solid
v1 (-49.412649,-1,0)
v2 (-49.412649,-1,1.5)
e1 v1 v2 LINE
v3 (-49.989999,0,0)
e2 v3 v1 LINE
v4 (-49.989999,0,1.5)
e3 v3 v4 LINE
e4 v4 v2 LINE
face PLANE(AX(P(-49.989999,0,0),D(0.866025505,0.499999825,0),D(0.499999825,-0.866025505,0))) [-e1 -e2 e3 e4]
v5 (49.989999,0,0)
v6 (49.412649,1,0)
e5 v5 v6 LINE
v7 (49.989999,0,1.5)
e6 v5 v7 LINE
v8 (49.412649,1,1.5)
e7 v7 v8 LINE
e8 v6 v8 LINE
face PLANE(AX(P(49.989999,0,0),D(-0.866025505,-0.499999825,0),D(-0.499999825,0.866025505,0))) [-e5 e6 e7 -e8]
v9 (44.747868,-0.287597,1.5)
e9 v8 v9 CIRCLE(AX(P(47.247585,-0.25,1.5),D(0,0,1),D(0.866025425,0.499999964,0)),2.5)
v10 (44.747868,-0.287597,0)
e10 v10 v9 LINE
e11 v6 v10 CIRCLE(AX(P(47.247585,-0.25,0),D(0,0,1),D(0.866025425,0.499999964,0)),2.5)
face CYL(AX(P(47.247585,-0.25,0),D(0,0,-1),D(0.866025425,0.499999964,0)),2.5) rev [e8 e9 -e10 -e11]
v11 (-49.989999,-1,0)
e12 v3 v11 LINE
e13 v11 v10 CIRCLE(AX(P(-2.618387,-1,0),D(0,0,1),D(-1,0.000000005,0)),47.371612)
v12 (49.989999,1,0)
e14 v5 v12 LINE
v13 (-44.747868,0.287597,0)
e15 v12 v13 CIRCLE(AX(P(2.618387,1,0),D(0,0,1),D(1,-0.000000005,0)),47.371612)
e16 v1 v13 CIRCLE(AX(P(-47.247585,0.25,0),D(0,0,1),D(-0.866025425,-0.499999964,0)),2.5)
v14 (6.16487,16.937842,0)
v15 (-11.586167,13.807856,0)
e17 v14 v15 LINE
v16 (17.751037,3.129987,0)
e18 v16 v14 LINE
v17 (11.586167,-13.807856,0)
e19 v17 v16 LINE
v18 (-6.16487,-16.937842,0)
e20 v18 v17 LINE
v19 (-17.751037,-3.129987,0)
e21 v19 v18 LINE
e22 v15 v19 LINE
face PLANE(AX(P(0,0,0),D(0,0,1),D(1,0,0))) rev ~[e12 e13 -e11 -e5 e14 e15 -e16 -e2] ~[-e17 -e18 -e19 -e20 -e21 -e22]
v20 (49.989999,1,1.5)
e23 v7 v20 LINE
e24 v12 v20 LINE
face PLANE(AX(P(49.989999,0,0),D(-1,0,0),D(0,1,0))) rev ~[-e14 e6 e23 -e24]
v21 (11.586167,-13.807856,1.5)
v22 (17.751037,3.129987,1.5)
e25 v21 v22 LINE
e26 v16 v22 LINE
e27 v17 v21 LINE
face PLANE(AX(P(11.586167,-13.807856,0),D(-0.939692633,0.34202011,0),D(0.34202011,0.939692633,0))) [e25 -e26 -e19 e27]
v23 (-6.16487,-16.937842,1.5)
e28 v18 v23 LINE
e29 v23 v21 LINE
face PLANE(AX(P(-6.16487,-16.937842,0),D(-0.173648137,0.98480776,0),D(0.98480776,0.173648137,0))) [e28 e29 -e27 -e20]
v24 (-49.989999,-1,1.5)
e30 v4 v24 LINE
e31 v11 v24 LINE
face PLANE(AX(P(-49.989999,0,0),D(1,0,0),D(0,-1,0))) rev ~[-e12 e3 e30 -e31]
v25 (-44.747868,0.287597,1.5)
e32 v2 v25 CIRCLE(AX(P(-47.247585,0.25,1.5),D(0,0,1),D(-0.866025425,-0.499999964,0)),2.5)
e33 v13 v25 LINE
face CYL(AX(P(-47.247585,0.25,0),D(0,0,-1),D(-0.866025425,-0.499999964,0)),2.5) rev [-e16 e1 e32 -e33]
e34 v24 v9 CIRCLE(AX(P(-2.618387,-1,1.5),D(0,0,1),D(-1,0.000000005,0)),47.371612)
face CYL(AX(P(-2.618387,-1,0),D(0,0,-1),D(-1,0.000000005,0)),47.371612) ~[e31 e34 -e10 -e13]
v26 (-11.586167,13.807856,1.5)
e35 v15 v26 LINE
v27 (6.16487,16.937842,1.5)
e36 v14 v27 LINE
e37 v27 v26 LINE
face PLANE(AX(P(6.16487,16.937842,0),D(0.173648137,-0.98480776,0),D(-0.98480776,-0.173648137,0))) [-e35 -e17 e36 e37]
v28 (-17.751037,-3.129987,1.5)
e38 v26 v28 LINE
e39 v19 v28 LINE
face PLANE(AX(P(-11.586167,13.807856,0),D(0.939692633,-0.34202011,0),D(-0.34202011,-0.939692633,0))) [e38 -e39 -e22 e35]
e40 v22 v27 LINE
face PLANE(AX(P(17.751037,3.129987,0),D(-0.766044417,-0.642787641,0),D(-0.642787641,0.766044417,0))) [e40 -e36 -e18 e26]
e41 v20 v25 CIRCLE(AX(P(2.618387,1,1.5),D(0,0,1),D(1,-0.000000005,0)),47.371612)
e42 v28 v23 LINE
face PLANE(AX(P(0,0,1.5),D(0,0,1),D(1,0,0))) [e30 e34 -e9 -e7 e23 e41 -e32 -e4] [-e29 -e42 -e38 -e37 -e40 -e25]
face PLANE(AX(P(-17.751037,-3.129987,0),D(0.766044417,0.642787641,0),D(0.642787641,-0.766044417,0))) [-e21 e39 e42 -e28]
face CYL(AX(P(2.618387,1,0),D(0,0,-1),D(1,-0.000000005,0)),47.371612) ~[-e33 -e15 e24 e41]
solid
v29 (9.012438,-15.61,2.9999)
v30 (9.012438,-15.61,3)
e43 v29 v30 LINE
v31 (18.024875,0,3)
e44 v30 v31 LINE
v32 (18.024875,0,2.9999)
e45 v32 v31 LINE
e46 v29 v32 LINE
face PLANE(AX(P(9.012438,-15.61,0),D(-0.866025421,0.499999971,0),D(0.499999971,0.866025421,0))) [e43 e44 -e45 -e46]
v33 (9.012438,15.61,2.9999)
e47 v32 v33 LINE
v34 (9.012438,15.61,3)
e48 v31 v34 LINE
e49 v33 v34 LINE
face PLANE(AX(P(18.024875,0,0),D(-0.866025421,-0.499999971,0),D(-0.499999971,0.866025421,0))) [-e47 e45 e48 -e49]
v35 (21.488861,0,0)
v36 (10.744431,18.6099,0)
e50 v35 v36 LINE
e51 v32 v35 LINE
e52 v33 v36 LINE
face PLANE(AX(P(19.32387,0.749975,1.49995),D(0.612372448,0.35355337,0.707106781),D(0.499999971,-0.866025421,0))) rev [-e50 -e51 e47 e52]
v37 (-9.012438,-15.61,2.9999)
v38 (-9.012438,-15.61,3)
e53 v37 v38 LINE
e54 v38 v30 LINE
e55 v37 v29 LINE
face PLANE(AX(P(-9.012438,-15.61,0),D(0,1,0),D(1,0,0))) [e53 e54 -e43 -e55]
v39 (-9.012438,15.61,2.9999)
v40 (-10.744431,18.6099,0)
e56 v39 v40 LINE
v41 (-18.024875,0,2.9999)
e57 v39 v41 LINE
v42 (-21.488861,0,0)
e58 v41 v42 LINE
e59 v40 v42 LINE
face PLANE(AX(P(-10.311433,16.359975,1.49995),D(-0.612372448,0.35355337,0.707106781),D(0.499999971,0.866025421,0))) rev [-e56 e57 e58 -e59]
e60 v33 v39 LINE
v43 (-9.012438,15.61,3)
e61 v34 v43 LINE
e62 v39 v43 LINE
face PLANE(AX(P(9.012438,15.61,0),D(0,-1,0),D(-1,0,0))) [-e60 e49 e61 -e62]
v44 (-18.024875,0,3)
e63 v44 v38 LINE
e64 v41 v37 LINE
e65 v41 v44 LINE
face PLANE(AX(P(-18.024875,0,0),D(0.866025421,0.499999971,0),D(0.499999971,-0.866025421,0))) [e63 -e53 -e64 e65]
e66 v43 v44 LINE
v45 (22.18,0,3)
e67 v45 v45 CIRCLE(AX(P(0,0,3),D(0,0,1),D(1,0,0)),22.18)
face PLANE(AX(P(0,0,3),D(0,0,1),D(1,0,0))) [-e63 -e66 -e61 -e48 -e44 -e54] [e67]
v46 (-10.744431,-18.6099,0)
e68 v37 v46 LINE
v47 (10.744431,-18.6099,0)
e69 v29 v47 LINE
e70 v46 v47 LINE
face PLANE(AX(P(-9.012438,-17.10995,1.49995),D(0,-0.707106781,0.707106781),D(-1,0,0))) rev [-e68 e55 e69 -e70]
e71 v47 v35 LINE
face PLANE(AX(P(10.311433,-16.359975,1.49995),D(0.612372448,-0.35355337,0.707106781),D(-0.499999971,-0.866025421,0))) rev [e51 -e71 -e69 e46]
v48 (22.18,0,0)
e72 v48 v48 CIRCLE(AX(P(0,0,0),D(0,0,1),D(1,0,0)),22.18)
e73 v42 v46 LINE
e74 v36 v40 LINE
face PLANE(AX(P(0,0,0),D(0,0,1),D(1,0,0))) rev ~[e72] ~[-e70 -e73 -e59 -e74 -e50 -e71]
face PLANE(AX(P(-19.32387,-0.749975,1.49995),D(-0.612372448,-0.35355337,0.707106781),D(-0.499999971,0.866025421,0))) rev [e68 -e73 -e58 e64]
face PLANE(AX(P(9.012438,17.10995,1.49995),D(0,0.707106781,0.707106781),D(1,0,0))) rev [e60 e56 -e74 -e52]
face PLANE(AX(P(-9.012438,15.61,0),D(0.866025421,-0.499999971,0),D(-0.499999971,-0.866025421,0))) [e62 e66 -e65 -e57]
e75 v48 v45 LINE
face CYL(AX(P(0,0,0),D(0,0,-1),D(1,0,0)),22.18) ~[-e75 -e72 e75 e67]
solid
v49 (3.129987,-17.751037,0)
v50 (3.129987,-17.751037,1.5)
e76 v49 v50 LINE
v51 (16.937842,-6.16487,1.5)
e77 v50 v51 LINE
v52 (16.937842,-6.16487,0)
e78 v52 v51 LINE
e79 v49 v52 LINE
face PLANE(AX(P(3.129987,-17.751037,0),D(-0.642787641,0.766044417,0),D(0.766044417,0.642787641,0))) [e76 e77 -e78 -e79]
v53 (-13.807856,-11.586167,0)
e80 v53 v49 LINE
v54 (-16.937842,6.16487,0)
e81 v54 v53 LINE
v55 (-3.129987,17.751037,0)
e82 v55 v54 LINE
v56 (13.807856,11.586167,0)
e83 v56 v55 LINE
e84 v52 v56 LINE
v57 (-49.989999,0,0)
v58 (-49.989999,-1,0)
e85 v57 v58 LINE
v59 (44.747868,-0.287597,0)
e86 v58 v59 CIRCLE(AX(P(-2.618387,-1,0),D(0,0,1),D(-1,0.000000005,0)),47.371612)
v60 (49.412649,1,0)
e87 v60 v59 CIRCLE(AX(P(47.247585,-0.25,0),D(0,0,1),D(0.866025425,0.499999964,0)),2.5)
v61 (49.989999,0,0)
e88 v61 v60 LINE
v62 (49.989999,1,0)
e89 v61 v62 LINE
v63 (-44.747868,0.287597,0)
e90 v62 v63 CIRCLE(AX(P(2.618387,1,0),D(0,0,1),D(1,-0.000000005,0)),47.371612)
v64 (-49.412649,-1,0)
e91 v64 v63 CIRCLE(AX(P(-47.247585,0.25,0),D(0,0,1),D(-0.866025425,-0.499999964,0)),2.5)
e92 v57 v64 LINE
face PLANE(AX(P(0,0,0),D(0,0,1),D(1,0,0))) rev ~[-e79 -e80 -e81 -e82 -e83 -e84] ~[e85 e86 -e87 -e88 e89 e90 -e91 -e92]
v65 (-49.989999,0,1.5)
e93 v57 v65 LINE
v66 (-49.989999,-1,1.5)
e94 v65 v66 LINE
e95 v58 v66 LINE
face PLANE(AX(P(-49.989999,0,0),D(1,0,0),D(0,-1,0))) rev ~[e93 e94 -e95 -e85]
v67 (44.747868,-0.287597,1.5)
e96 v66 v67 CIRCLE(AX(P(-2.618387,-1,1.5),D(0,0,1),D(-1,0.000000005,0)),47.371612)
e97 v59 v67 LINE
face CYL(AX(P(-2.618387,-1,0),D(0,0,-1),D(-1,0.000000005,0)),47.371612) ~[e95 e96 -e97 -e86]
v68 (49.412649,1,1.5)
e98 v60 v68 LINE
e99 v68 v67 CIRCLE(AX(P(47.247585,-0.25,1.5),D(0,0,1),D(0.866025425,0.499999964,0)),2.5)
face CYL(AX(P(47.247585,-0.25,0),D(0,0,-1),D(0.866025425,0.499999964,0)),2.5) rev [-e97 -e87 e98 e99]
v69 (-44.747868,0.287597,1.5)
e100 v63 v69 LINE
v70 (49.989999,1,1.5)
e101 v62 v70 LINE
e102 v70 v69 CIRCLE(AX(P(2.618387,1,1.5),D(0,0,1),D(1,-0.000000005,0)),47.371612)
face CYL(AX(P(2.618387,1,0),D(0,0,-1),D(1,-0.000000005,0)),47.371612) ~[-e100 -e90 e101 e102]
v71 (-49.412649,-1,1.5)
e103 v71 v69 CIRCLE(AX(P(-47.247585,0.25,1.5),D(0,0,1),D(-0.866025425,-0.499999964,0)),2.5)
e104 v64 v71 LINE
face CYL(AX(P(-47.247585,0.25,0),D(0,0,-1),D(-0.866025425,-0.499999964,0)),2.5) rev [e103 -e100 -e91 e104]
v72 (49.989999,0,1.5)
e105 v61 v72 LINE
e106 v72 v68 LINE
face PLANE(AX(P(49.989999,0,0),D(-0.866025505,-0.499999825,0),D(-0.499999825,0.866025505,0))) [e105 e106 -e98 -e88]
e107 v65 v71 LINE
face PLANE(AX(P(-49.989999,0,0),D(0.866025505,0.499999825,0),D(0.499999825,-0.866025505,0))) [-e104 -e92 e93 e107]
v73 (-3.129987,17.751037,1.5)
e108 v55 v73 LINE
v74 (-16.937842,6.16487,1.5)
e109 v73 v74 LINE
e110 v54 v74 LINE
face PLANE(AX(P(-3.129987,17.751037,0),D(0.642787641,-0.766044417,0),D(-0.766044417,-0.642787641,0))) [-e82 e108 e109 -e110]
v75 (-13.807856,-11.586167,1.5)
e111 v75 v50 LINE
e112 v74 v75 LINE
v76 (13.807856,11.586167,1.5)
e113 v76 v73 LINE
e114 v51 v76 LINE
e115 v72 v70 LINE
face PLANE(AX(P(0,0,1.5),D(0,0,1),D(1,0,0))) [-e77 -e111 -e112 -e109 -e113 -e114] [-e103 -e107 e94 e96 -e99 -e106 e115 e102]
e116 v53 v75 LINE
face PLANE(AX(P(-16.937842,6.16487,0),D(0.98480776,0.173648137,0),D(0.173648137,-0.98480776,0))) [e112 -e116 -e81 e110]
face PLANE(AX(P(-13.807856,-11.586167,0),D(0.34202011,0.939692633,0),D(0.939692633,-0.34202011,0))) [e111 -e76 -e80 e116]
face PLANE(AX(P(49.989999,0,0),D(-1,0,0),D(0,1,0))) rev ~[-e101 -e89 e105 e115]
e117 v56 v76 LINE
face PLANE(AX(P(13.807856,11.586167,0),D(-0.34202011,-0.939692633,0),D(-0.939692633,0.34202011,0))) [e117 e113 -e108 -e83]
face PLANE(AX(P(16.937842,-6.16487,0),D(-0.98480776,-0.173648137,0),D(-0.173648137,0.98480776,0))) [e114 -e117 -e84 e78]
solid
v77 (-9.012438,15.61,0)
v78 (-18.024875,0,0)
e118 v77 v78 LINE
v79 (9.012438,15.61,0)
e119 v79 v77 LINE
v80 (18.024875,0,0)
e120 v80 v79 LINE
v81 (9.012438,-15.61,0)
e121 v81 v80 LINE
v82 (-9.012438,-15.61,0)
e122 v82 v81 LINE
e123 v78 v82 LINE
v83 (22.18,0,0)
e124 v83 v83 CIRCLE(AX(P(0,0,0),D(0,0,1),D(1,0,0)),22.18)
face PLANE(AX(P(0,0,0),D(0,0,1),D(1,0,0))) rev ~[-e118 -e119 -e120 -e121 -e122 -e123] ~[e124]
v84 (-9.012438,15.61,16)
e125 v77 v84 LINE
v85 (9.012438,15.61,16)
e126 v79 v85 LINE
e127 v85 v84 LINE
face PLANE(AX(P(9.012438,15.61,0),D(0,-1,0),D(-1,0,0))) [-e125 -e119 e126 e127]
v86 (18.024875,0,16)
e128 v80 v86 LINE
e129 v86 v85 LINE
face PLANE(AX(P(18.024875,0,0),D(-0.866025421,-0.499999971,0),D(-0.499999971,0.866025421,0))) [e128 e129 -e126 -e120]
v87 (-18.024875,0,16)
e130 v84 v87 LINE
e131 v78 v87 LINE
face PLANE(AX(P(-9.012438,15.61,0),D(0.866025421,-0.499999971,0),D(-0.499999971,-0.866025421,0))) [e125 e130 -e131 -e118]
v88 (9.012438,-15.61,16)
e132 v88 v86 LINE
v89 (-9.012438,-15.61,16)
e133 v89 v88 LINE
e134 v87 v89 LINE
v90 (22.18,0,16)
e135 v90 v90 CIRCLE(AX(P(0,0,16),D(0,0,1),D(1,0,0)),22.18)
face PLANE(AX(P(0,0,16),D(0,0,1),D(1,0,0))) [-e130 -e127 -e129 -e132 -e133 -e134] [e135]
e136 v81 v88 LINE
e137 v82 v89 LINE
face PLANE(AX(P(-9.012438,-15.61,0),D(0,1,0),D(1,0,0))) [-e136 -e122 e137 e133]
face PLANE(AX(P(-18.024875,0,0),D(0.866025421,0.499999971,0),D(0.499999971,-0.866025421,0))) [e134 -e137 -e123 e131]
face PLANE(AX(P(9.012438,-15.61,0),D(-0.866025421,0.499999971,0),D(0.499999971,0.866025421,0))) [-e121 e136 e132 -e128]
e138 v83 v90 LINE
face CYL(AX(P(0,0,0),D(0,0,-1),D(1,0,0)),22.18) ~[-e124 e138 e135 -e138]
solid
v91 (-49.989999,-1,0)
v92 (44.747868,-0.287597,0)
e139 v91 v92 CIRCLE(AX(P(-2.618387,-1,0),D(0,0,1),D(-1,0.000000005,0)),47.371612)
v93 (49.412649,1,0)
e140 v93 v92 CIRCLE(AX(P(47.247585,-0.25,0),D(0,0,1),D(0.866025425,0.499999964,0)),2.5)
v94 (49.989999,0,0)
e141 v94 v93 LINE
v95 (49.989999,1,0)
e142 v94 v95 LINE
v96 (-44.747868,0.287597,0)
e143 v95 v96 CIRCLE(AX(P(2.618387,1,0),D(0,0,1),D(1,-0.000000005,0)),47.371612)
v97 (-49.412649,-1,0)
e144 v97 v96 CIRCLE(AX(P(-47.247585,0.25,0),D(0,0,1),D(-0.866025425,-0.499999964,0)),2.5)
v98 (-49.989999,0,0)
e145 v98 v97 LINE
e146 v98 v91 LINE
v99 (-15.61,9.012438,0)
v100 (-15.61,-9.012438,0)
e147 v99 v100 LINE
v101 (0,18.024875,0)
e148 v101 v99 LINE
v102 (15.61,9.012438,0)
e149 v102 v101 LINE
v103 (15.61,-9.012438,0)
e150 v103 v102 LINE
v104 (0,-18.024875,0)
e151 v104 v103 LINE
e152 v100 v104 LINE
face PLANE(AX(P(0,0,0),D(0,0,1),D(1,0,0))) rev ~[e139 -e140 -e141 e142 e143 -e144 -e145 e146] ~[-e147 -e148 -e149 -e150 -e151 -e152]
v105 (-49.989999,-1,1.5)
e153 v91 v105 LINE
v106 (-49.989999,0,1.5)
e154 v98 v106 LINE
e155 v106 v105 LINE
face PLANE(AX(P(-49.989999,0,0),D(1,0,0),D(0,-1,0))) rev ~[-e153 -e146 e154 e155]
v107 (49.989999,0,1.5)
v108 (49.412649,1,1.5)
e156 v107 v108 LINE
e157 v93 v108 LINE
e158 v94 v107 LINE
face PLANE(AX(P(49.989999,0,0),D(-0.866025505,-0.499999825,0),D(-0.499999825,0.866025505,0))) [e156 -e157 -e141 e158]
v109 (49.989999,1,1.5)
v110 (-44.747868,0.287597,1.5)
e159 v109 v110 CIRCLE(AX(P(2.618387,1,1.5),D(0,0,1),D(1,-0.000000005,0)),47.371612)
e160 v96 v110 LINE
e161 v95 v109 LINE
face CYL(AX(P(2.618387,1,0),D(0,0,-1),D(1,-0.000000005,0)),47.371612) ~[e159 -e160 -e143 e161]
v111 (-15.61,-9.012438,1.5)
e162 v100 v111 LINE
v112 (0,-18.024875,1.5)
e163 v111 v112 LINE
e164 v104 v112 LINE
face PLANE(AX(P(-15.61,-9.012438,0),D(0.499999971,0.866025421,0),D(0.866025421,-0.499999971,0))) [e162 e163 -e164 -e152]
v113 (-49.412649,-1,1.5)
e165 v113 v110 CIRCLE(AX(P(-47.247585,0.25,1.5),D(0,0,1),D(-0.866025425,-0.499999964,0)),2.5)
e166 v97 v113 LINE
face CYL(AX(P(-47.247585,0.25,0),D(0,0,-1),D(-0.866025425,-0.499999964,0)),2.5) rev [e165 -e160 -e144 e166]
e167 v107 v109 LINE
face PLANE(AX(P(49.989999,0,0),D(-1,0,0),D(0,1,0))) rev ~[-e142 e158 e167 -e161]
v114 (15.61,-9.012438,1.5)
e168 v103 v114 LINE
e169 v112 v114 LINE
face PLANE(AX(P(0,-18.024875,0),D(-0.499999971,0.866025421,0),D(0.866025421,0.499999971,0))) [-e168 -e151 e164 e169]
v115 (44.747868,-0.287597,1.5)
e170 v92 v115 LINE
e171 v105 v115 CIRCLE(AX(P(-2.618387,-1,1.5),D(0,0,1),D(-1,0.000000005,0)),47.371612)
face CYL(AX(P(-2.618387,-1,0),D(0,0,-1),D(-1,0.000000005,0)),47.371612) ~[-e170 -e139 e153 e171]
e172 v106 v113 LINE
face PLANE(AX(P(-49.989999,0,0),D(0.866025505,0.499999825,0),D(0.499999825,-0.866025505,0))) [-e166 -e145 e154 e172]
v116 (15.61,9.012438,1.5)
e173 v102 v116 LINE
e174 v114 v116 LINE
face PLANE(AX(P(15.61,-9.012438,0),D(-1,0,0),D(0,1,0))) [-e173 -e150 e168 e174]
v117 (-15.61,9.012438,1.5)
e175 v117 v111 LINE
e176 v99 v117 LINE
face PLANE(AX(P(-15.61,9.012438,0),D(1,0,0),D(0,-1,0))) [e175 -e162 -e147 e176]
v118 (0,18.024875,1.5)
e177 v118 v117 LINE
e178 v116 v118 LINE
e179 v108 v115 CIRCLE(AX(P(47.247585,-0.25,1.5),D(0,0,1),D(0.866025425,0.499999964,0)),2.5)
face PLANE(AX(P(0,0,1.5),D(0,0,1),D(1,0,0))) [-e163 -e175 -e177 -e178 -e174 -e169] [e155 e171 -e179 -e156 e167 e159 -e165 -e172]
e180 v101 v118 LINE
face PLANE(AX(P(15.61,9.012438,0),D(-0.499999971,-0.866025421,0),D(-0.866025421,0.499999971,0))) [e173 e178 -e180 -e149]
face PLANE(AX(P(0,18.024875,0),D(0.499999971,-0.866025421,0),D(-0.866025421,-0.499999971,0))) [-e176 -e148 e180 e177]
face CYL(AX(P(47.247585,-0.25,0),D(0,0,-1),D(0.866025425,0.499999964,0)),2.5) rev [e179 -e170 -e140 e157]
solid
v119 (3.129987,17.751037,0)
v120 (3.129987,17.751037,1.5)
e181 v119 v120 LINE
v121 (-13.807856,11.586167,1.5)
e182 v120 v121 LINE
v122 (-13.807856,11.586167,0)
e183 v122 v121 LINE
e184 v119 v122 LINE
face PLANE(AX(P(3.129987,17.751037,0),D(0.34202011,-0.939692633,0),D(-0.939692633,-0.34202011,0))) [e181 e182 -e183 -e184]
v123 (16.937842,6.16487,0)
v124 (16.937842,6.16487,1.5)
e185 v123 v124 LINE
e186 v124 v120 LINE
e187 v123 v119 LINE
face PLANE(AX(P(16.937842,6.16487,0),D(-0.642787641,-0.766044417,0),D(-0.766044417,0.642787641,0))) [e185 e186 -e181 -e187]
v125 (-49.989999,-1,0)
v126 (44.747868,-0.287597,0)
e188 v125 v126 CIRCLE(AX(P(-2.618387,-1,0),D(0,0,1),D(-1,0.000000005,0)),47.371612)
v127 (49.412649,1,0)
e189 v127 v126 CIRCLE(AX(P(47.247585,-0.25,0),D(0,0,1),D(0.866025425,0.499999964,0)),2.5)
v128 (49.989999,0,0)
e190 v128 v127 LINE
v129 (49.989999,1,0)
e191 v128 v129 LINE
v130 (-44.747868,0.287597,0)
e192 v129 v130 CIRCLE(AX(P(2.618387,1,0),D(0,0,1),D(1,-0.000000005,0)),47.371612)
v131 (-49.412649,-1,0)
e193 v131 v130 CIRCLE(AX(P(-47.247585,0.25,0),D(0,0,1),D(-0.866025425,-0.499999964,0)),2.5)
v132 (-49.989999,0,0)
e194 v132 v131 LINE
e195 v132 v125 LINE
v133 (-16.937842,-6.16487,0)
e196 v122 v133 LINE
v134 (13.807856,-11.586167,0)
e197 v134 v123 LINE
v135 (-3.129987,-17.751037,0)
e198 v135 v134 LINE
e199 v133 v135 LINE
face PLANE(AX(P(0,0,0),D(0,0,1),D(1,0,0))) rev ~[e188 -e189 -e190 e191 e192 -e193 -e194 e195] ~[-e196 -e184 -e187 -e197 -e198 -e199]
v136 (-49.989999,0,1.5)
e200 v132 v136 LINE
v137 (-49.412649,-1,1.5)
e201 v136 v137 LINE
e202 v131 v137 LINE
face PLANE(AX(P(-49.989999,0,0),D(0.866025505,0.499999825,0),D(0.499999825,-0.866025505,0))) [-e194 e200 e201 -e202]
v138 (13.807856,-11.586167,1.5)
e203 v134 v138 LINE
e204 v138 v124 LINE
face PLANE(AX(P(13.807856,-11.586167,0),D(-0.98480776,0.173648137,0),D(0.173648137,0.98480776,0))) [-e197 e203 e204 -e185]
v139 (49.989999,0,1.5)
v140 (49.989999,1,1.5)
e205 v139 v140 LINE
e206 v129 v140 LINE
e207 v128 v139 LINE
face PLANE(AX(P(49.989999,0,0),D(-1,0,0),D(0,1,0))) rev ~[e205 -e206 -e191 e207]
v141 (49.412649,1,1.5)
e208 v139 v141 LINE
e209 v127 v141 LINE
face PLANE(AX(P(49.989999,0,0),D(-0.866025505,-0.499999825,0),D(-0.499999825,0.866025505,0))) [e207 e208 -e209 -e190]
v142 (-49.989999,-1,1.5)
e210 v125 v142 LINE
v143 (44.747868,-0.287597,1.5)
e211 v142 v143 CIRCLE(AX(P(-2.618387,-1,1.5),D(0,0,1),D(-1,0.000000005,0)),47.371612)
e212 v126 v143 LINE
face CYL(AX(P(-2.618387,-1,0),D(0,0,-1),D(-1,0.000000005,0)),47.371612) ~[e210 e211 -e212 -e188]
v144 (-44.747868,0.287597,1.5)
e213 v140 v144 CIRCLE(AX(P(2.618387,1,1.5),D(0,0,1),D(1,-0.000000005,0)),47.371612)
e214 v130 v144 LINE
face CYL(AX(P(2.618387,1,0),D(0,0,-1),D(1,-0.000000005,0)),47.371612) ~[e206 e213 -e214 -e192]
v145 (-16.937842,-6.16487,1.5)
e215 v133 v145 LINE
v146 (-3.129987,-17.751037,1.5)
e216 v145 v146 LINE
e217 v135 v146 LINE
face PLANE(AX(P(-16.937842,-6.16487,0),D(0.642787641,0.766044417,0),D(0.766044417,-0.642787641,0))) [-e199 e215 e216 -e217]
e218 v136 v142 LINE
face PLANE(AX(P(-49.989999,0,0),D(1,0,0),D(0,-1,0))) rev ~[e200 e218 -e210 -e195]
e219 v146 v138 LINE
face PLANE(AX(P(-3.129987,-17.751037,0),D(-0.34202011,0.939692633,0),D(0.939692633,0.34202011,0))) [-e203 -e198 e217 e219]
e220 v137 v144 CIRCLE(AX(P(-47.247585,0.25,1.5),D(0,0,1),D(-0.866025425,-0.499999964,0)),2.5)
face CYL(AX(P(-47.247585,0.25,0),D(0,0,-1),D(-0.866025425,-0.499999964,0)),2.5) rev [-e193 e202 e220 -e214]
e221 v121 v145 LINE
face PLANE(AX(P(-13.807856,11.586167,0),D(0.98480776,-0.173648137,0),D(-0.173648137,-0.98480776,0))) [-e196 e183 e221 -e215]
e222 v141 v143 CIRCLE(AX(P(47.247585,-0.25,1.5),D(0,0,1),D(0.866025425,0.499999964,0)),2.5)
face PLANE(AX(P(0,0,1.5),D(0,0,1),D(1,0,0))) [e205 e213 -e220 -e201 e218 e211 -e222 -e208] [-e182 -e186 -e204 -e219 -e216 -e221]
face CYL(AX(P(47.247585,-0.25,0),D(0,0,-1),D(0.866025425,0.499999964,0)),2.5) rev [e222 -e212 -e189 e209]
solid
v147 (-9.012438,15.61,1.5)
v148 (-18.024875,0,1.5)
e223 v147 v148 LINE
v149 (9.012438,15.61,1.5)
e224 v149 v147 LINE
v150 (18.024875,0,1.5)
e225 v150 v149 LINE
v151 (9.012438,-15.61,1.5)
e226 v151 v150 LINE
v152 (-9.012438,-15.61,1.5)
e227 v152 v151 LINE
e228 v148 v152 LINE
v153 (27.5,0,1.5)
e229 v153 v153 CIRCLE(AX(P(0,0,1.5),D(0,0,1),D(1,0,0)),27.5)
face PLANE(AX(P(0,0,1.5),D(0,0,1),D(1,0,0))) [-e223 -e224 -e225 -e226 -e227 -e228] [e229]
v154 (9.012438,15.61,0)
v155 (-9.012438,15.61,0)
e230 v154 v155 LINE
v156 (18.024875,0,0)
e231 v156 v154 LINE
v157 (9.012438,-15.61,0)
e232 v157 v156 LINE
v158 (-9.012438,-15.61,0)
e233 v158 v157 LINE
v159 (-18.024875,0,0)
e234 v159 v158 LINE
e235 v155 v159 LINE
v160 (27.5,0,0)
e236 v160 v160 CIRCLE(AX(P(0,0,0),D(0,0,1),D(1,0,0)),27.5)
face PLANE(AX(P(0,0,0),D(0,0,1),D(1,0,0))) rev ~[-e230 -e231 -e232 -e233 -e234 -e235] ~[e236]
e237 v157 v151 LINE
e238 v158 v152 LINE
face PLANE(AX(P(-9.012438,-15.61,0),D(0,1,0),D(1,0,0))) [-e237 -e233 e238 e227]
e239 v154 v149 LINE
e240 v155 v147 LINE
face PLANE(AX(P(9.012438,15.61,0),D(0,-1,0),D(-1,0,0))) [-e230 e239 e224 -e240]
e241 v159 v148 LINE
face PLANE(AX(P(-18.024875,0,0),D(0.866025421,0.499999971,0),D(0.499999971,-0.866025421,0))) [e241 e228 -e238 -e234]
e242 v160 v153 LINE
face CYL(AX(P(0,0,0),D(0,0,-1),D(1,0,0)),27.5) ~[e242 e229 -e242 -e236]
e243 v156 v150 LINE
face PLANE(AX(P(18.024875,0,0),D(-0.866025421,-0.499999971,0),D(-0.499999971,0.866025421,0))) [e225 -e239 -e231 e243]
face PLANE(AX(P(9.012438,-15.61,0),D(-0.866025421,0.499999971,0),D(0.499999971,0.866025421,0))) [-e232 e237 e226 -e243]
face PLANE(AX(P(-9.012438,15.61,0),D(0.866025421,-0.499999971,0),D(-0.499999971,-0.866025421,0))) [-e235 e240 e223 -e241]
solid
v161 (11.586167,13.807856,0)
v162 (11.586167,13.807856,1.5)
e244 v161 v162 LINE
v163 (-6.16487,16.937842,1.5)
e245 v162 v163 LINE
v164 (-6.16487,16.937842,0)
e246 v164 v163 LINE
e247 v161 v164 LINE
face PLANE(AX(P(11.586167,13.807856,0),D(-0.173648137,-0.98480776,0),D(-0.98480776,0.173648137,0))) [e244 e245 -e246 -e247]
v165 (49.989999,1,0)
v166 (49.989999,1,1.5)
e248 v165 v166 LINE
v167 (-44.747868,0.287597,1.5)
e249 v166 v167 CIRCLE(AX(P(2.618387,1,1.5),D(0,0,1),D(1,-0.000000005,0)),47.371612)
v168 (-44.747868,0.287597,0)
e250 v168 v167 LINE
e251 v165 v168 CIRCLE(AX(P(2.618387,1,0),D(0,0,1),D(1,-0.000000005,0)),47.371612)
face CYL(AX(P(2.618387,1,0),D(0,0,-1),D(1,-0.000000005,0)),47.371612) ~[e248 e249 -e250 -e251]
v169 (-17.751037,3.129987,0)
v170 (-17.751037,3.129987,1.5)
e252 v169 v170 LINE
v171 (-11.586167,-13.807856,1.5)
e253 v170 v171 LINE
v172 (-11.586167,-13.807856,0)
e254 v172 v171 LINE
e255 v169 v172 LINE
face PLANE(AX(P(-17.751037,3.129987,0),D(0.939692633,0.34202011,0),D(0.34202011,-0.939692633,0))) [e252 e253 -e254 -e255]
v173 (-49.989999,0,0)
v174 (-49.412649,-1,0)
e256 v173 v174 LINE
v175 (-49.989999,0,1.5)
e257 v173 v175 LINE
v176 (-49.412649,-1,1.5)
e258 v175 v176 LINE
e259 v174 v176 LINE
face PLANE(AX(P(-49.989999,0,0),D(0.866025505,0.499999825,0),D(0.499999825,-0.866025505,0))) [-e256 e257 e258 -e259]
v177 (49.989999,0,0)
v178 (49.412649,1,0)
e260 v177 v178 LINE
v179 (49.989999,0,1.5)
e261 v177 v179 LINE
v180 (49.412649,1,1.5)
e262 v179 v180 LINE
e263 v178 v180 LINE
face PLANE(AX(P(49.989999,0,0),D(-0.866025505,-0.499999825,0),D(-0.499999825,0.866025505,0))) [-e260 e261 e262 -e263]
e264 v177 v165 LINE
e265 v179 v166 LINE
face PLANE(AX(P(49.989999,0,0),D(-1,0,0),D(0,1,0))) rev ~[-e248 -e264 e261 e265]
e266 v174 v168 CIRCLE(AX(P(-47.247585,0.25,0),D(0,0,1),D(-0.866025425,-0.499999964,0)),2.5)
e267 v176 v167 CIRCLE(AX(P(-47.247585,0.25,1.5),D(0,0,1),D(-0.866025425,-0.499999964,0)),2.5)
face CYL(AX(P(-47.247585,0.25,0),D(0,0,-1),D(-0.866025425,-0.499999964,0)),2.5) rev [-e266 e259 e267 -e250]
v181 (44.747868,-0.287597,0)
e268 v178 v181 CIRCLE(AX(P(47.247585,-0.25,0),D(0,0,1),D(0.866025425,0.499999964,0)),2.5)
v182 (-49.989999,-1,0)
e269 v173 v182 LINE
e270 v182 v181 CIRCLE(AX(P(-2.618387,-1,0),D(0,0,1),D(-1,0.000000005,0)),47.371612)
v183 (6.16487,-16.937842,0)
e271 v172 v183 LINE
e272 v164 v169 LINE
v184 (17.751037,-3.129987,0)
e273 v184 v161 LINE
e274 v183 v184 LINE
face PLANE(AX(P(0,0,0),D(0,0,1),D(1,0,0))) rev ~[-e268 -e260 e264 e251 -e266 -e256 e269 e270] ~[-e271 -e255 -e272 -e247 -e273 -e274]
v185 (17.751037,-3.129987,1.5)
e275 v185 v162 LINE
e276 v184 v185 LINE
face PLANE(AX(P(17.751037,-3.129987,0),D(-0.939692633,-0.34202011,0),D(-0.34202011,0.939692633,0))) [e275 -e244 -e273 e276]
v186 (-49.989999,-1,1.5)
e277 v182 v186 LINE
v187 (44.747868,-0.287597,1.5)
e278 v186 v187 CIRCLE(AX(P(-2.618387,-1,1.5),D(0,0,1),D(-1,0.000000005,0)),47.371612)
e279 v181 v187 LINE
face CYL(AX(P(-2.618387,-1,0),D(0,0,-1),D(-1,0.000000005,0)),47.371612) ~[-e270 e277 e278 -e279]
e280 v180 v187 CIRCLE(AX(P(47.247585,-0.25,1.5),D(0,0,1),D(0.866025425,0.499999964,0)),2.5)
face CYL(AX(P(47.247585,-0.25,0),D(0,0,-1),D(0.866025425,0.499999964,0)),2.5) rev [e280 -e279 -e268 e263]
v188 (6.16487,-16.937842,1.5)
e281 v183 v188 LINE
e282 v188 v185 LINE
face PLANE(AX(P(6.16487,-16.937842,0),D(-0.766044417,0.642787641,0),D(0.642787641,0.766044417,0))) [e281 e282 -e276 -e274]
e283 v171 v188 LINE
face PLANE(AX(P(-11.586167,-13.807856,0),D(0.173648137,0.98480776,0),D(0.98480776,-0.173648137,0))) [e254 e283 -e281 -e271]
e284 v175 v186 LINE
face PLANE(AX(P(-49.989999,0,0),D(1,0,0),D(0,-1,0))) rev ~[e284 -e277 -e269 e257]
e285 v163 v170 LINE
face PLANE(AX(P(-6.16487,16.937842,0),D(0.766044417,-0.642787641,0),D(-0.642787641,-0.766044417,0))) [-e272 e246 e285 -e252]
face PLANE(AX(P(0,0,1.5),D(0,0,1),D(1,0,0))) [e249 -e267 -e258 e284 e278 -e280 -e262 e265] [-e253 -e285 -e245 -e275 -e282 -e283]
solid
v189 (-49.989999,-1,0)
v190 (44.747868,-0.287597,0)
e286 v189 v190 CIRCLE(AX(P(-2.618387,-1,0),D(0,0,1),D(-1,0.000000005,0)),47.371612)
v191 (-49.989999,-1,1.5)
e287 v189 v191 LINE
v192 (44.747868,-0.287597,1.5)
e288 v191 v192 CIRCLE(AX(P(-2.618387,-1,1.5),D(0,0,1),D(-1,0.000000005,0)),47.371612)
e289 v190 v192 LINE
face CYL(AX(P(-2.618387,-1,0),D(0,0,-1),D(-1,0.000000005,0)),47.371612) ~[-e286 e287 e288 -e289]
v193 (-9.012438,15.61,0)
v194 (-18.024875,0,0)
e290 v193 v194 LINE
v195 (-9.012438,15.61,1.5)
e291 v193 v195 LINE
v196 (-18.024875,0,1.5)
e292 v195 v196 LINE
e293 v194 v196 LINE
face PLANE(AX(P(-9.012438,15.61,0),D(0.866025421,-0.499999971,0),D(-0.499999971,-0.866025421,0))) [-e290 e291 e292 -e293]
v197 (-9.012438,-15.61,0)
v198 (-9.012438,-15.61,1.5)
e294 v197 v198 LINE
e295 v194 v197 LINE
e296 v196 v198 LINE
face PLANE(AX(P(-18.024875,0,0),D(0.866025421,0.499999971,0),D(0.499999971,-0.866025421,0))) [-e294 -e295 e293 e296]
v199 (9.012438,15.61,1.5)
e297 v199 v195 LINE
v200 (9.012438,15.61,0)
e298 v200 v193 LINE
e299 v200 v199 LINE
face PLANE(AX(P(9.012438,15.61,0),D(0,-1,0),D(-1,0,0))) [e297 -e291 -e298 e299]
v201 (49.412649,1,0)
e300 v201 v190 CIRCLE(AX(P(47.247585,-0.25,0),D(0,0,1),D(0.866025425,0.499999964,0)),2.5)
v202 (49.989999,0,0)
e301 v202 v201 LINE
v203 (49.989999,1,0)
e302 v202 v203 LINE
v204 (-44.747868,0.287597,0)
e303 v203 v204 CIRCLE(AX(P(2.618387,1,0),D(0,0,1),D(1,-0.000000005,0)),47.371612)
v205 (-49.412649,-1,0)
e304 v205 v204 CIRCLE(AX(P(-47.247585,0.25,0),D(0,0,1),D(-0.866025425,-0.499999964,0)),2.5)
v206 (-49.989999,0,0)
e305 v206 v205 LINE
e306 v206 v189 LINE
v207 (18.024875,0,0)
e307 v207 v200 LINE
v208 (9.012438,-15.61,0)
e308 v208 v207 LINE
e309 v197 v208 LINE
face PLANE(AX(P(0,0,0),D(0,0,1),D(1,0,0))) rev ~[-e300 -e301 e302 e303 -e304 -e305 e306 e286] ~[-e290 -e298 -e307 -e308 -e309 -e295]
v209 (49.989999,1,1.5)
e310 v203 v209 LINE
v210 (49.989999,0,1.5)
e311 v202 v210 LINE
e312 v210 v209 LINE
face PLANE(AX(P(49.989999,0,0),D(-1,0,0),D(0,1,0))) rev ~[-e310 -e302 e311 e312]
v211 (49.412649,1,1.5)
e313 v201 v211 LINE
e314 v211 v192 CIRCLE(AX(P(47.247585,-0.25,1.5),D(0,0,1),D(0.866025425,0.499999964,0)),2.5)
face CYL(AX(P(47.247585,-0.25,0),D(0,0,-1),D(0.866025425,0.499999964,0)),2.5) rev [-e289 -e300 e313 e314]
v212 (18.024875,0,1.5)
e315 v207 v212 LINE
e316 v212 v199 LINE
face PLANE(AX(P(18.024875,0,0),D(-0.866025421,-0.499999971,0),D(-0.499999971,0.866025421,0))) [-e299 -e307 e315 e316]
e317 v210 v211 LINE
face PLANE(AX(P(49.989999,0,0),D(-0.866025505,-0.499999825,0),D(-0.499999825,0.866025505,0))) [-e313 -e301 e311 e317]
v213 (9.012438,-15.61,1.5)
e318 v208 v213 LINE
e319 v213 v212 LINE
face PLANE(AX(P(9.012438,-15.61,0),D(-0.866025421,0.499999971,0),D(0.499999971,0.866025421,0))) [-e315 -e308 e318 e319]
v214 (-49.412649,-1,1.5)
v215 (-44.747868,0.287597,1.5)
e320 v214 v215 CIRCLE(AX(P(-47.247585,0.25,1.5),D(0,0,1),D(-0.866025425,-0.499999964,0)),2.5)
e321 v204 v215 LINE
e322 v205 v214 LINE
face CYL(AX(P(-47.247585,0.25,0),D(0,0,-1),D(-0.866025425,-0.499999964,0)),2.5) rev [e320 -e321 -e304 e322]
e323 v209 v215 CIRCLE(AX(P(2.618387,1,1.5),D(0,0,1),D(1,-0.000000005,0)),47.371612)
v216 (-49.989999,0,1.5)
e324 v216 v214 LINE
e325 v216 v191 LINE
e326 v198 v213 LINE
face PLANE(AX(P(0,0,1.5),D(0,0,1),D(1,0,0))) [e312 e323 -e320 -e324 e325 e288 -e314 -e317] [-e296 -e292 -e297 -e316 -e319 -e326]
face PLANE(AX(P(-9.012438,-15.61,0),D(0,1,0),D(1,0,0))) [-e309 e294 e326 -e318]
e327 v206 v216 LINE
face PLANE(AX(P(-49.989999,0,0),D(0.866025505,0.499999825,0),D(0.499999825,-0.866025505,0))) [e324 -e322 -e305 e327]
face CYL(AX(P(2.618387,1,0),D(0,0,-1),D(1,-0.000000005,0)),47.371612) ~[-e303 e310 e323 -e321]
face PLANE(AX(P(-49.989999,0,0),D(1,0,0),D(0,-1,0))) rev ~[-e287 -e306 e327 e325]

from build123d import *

# Parameters (mm, degrees)
PAD001_DEPTH = 1.5
SKETCH018_R  = 22.18
PAD007_DEPTH = 3
CHAMFER_SIZE = 2.9999
SKETCH019_R  = 27.5
PAD008_DEPTH = 1.5
PAD009_DEPTH = 1.5
PAD010_DEPTH = 1.5
PAD011_DEPTH = 1.5
PAD012_DEPTH = 1.5
PAD013_DEPTH = 1.5
SKETCH035_R  = 22.18
PAD014_DEPTH = 16


with BuildPart() as cuchilla001:
    # Sketch001 → Pad001 (new body)
    with BuildSketch(Plane.XY):
        with BuildLine():
            Line((49.989999, 0), (49.989999, 1))
            ThreePointArc((49.989999, 1), (2.262175, 48.370273), (-44.747868, 0.287597))
            ThreePointArc((-49.412649, -1), (-46.582398, -2.159881), (-44.747868, 0.287597))
            Line((-49.989999, 0), (-49.412649, -1))
            Line((-49.989999, 0), (-49.989999, -1))
            ThreePointArc((-49.989999, -1), (-2.262175, -48.370273), (44.747868, -0.287597))
            ThreePointArc((49.412649, 1), (46.582398, 2.159881), (44.747868, -0.287597))
            Line((49.989999, 0), (49.412649, 1))
        make_face()
        Polygon((-9.012438, -15.61), (9.012438, -15.61), (18.024875, 0), (9.012438, 15.61), (-9.012438, 15.61), (-18.024875, 0), align=None, mode=Mode.SUBTRACT)
    extrude(amount=PAD001_DEPTH)


with BuildPart() as separadorcuchillainicial:
    # Sketch018 → Pad007 (new body)
    with BuildSketch(Plane.XY):
        Circle(SKETCH018_R)
        Polygon((9.012438, 15.61), (-9.012438, 15.61), (-18.024875, 0), (-9.012438, -15.61), (9.012438, -15.61), (18.024875, 0), align=None, mode=Mode.SUBTRACT)
    extrude(amount=PAD007_DEPTH)

    # Chamfer
    chamfer_edges = [separadorcuchillainicial.edges().sort_by_distance(p)[0] for p in [
        (0, -15.61, 0),
        (13.518657, -7.805, 0),
        (13.518657, 7.805, 0),
        (0, 15.61, 0),
        (-13.518657, 7.805, 0),
        (-13.518657, -7.805, 0),
    ]]
    chamfer(chamfer_edges, length=CHAMFER_SIZE)


with BuildPart() as separadorcuchilla:
    # Sketch019 → Pad008 (new body)
    with BuildSketch(Plane.XY):
        Circle(SKETCH019_R)
        Polygon((9.012438, 15.61), (-9.012438, 15.61), (-18.024875, 0), (-9.012438, -15.61), (9.012438, -15.61), (18.024875, 0), align=None, mode=Mode.SUBTRACT)
    extrude(amount=PAD008_DEPTH)


with BuildPart() as cuchilla002:
    # Sketch021 → Pad009 (new body)
    with BuildSketch(Plane.XY):
        with BuildLine():
            Line((49.989999, 0), (49.989999, 1))
            ThreePointArc((49.989999, 1), (2.262175, 48.370273), (-44.747868, 0.287597))
            ThreePointArc((-49.412649, -1), (-46.582398, -2.159881), (-44.747868, 0.287597))
            Line((-49.989999, 0), (-49.412649, -1))
            Line((-49.989999, 0), (-49.989999, -1))
            ThreePointArc((-49.989999, -1), (-2.262175, -48.370273), (44.747868, -0.287597))
            ThreePointArc((49.412649, 1), (46.582398, 2.159881), (44.747868, -0.287597))
            Line((49.989999, 0), (49.412649, 1))
        make_face()
        Polygon((-6.16487, -16.937842), (11.586167, -13.807856), (17.751037, 3.129987), (6.16487, 16.937842), (-11.586167, 13.807856), (-17.751037, -3.129987), align=None, mode=Mode.SUBTRACT)
    extrude(amount=PAD009_DEPTH)


with BuildPart() as cuchilla003:
    # Sketch024 → Pad010 (new body)
    with BuildSketch(Plane.XY):
        with BuildLine():
            Line((49.989999, 0), (49.989999, 1))
            ThreePointArc((49.989999, 1), (2.262175, 48.370273), (-44.747868, 0.287597))
            ThreePointArc((-49.412649, -1), (-46.582398, -2.159881), (-44.747868, 0.287597))
            Line((-49.989999, 0), (-49.412649, -1))
            Line((-49.989999, 0), (-49.989999, -1))
            ThreePointArc((-49.989999, -1), (-2.262175, -48.370273), (44.747868, -0.287597))
            ThreePointArc((49.412649, 1), (46.582398, 2.159881), (44.747868, -0.287597))
            Line((49.989999, 0), (49.412649, 1))
        make_face()
        Polygon((-3.129987, -17.751037), (13.807856, -11.586167), (16.937842, 6.16487), (3.129987, 17.751037), (-13.807856, 11.586167), (-16.937842, -6.16487), align=None, mode=Mode.SUBTRACT)
    extrude(amount=PAD010_DEPTH)


with BuildPart() as cuchilla004:
    # Sketch027 → Pad011 (new body)
    with BuildSketch(Plane.XY):
        with BuildLine():
            Line((49.989999, 0), (49.989999, 1))
            ThreePointArc((49.989999, 1), (2.262175, 48.370273), (-44.747868, 0.287597))
            ThreePointArc((-49.412649, -1), (-46.582398, -2.159881), (-44.747868, 0.287597))
            Line((-49.989999, 0), (-49.412649, -1))
            Line((-49.989999, 0), (-49.989999, -1))
            ThreePointArc((-49.989999, -1), (-2.262175, -48.370273), (44.747868, -0.287597))
            ThreePointArc((49.412649, 1), (46.582398, 2.159881), (44.747868, -0.287597))
            Line((49.989999, 0), (49.412649, 1))
        make_face()
        Polygon((0, -18.024875), (15.61, -9.012438), (15.61, 9.012438), (0, 18.024875), (-15.61, 9.012438), (-15.61, -9.012438), align=None, mode=Mode.SUBTRACT)
    extrude(amount=PAD011_DEPTH)


with BuildPart() as cuchilla005:
    # Sketch030 → Pad012 (new body)
    with BuildSketch(Plane.XY):
        with BuildLine():
            Line((49.989999, 0), (49.989999, 1))
            ThreePointArc((49.989999, 1), (2.262175, 48.370273), (-44.747868, 0.287597))
            ThreePointArc((-49.412649, -1), (-46.582398, -2.159881), (-44.747868, 0.287597))
            Line((-49.989999, 0), (-49.412649, -1))
            Line((-49.989999, 0), (-49.989999, -1))
            ThreePointArc((-49.989999, -1), (-2.262175, -48.370273), (44.747868, -0.287597))
            ThreePointArc((49.412649, 1), (46.582398, 2.159881), (44.747868, -0.287597))
            Line((49.989999, 0), (49.412649, 1))
        make_face()
        Polygon((3.129987, -17.751037), (16.937842, -6.16487), (13.807856, 11.586167), (-3.129987, 17.751037), (-16.937842, 6.16487), (-13.807856, -11.586167), align=None, mode=Mode.SUBTRACT)
    extrude(amount=PAD012_DEPTH)


with BuildPart() as cuchilla006:
    # Sketch033 → Pad013 (new body)
    with BuildSketch(Plane.XY):
        with BuildLine():
            Line((49.989999, 0), (49.989999, 1))
            ThreePointArc((49.989999, 1), (2.262175, 48.370273), (-44.747868, 0.287597))
            ThreePointArc((-49.412649, -1), (-46.582398, -2.159881), (-44.747868, 0.287597))
            Line((-49.989999, 0), (-49.412649, -1))
            Line((-49.989999, 0), (-49.989999, -1))
            ThreePointArc((-49.989999, -1), (-2.262175, -48.370273), (44.747868, -0.287597))
            ThreePointArc((49.412649, 1), (46.582398, 2.159881), (44.747868, -0.287597))
            Line((49.989999, 0), (49.412649, 1))
        make_face()
        Polygon((6.16487, -16.937842), (17.751037, -3.129987), (11.586167, 13.807856), (-6.16487, 16.937842), (-17.751037, 3.129987), (-11.586167, -13.807856), align=None, mode=Mode.SUBTRACT)
    extrude(amount=PAD013_DEPTH)


with BuildPart() as separadorcuchillafinal:
    # Sketch035 → Pad014 (new body)
    with BuildSketch(Plane.XY):
        Circle(SKETCH035_R)
        Polygon((9.012438, 15.61), (-9.012438, 15.61), (-18.024875, 0), (-9.012438, -15.61), (9.012438, -15.61), (18.024875, 0), align=None, mode=Mode.SUBTRACT)
    extrude(amount=PAD014_DEPTH)


solid = Compound([cuchilla001.part, separadorcuchillainicial.part, separadorcuchilla.part, cuchilla002.part, cuchilla003.part, cuchilla004.part, cuchilla005.part, cuchilla006.part, separadorcuchillafinal.part])
